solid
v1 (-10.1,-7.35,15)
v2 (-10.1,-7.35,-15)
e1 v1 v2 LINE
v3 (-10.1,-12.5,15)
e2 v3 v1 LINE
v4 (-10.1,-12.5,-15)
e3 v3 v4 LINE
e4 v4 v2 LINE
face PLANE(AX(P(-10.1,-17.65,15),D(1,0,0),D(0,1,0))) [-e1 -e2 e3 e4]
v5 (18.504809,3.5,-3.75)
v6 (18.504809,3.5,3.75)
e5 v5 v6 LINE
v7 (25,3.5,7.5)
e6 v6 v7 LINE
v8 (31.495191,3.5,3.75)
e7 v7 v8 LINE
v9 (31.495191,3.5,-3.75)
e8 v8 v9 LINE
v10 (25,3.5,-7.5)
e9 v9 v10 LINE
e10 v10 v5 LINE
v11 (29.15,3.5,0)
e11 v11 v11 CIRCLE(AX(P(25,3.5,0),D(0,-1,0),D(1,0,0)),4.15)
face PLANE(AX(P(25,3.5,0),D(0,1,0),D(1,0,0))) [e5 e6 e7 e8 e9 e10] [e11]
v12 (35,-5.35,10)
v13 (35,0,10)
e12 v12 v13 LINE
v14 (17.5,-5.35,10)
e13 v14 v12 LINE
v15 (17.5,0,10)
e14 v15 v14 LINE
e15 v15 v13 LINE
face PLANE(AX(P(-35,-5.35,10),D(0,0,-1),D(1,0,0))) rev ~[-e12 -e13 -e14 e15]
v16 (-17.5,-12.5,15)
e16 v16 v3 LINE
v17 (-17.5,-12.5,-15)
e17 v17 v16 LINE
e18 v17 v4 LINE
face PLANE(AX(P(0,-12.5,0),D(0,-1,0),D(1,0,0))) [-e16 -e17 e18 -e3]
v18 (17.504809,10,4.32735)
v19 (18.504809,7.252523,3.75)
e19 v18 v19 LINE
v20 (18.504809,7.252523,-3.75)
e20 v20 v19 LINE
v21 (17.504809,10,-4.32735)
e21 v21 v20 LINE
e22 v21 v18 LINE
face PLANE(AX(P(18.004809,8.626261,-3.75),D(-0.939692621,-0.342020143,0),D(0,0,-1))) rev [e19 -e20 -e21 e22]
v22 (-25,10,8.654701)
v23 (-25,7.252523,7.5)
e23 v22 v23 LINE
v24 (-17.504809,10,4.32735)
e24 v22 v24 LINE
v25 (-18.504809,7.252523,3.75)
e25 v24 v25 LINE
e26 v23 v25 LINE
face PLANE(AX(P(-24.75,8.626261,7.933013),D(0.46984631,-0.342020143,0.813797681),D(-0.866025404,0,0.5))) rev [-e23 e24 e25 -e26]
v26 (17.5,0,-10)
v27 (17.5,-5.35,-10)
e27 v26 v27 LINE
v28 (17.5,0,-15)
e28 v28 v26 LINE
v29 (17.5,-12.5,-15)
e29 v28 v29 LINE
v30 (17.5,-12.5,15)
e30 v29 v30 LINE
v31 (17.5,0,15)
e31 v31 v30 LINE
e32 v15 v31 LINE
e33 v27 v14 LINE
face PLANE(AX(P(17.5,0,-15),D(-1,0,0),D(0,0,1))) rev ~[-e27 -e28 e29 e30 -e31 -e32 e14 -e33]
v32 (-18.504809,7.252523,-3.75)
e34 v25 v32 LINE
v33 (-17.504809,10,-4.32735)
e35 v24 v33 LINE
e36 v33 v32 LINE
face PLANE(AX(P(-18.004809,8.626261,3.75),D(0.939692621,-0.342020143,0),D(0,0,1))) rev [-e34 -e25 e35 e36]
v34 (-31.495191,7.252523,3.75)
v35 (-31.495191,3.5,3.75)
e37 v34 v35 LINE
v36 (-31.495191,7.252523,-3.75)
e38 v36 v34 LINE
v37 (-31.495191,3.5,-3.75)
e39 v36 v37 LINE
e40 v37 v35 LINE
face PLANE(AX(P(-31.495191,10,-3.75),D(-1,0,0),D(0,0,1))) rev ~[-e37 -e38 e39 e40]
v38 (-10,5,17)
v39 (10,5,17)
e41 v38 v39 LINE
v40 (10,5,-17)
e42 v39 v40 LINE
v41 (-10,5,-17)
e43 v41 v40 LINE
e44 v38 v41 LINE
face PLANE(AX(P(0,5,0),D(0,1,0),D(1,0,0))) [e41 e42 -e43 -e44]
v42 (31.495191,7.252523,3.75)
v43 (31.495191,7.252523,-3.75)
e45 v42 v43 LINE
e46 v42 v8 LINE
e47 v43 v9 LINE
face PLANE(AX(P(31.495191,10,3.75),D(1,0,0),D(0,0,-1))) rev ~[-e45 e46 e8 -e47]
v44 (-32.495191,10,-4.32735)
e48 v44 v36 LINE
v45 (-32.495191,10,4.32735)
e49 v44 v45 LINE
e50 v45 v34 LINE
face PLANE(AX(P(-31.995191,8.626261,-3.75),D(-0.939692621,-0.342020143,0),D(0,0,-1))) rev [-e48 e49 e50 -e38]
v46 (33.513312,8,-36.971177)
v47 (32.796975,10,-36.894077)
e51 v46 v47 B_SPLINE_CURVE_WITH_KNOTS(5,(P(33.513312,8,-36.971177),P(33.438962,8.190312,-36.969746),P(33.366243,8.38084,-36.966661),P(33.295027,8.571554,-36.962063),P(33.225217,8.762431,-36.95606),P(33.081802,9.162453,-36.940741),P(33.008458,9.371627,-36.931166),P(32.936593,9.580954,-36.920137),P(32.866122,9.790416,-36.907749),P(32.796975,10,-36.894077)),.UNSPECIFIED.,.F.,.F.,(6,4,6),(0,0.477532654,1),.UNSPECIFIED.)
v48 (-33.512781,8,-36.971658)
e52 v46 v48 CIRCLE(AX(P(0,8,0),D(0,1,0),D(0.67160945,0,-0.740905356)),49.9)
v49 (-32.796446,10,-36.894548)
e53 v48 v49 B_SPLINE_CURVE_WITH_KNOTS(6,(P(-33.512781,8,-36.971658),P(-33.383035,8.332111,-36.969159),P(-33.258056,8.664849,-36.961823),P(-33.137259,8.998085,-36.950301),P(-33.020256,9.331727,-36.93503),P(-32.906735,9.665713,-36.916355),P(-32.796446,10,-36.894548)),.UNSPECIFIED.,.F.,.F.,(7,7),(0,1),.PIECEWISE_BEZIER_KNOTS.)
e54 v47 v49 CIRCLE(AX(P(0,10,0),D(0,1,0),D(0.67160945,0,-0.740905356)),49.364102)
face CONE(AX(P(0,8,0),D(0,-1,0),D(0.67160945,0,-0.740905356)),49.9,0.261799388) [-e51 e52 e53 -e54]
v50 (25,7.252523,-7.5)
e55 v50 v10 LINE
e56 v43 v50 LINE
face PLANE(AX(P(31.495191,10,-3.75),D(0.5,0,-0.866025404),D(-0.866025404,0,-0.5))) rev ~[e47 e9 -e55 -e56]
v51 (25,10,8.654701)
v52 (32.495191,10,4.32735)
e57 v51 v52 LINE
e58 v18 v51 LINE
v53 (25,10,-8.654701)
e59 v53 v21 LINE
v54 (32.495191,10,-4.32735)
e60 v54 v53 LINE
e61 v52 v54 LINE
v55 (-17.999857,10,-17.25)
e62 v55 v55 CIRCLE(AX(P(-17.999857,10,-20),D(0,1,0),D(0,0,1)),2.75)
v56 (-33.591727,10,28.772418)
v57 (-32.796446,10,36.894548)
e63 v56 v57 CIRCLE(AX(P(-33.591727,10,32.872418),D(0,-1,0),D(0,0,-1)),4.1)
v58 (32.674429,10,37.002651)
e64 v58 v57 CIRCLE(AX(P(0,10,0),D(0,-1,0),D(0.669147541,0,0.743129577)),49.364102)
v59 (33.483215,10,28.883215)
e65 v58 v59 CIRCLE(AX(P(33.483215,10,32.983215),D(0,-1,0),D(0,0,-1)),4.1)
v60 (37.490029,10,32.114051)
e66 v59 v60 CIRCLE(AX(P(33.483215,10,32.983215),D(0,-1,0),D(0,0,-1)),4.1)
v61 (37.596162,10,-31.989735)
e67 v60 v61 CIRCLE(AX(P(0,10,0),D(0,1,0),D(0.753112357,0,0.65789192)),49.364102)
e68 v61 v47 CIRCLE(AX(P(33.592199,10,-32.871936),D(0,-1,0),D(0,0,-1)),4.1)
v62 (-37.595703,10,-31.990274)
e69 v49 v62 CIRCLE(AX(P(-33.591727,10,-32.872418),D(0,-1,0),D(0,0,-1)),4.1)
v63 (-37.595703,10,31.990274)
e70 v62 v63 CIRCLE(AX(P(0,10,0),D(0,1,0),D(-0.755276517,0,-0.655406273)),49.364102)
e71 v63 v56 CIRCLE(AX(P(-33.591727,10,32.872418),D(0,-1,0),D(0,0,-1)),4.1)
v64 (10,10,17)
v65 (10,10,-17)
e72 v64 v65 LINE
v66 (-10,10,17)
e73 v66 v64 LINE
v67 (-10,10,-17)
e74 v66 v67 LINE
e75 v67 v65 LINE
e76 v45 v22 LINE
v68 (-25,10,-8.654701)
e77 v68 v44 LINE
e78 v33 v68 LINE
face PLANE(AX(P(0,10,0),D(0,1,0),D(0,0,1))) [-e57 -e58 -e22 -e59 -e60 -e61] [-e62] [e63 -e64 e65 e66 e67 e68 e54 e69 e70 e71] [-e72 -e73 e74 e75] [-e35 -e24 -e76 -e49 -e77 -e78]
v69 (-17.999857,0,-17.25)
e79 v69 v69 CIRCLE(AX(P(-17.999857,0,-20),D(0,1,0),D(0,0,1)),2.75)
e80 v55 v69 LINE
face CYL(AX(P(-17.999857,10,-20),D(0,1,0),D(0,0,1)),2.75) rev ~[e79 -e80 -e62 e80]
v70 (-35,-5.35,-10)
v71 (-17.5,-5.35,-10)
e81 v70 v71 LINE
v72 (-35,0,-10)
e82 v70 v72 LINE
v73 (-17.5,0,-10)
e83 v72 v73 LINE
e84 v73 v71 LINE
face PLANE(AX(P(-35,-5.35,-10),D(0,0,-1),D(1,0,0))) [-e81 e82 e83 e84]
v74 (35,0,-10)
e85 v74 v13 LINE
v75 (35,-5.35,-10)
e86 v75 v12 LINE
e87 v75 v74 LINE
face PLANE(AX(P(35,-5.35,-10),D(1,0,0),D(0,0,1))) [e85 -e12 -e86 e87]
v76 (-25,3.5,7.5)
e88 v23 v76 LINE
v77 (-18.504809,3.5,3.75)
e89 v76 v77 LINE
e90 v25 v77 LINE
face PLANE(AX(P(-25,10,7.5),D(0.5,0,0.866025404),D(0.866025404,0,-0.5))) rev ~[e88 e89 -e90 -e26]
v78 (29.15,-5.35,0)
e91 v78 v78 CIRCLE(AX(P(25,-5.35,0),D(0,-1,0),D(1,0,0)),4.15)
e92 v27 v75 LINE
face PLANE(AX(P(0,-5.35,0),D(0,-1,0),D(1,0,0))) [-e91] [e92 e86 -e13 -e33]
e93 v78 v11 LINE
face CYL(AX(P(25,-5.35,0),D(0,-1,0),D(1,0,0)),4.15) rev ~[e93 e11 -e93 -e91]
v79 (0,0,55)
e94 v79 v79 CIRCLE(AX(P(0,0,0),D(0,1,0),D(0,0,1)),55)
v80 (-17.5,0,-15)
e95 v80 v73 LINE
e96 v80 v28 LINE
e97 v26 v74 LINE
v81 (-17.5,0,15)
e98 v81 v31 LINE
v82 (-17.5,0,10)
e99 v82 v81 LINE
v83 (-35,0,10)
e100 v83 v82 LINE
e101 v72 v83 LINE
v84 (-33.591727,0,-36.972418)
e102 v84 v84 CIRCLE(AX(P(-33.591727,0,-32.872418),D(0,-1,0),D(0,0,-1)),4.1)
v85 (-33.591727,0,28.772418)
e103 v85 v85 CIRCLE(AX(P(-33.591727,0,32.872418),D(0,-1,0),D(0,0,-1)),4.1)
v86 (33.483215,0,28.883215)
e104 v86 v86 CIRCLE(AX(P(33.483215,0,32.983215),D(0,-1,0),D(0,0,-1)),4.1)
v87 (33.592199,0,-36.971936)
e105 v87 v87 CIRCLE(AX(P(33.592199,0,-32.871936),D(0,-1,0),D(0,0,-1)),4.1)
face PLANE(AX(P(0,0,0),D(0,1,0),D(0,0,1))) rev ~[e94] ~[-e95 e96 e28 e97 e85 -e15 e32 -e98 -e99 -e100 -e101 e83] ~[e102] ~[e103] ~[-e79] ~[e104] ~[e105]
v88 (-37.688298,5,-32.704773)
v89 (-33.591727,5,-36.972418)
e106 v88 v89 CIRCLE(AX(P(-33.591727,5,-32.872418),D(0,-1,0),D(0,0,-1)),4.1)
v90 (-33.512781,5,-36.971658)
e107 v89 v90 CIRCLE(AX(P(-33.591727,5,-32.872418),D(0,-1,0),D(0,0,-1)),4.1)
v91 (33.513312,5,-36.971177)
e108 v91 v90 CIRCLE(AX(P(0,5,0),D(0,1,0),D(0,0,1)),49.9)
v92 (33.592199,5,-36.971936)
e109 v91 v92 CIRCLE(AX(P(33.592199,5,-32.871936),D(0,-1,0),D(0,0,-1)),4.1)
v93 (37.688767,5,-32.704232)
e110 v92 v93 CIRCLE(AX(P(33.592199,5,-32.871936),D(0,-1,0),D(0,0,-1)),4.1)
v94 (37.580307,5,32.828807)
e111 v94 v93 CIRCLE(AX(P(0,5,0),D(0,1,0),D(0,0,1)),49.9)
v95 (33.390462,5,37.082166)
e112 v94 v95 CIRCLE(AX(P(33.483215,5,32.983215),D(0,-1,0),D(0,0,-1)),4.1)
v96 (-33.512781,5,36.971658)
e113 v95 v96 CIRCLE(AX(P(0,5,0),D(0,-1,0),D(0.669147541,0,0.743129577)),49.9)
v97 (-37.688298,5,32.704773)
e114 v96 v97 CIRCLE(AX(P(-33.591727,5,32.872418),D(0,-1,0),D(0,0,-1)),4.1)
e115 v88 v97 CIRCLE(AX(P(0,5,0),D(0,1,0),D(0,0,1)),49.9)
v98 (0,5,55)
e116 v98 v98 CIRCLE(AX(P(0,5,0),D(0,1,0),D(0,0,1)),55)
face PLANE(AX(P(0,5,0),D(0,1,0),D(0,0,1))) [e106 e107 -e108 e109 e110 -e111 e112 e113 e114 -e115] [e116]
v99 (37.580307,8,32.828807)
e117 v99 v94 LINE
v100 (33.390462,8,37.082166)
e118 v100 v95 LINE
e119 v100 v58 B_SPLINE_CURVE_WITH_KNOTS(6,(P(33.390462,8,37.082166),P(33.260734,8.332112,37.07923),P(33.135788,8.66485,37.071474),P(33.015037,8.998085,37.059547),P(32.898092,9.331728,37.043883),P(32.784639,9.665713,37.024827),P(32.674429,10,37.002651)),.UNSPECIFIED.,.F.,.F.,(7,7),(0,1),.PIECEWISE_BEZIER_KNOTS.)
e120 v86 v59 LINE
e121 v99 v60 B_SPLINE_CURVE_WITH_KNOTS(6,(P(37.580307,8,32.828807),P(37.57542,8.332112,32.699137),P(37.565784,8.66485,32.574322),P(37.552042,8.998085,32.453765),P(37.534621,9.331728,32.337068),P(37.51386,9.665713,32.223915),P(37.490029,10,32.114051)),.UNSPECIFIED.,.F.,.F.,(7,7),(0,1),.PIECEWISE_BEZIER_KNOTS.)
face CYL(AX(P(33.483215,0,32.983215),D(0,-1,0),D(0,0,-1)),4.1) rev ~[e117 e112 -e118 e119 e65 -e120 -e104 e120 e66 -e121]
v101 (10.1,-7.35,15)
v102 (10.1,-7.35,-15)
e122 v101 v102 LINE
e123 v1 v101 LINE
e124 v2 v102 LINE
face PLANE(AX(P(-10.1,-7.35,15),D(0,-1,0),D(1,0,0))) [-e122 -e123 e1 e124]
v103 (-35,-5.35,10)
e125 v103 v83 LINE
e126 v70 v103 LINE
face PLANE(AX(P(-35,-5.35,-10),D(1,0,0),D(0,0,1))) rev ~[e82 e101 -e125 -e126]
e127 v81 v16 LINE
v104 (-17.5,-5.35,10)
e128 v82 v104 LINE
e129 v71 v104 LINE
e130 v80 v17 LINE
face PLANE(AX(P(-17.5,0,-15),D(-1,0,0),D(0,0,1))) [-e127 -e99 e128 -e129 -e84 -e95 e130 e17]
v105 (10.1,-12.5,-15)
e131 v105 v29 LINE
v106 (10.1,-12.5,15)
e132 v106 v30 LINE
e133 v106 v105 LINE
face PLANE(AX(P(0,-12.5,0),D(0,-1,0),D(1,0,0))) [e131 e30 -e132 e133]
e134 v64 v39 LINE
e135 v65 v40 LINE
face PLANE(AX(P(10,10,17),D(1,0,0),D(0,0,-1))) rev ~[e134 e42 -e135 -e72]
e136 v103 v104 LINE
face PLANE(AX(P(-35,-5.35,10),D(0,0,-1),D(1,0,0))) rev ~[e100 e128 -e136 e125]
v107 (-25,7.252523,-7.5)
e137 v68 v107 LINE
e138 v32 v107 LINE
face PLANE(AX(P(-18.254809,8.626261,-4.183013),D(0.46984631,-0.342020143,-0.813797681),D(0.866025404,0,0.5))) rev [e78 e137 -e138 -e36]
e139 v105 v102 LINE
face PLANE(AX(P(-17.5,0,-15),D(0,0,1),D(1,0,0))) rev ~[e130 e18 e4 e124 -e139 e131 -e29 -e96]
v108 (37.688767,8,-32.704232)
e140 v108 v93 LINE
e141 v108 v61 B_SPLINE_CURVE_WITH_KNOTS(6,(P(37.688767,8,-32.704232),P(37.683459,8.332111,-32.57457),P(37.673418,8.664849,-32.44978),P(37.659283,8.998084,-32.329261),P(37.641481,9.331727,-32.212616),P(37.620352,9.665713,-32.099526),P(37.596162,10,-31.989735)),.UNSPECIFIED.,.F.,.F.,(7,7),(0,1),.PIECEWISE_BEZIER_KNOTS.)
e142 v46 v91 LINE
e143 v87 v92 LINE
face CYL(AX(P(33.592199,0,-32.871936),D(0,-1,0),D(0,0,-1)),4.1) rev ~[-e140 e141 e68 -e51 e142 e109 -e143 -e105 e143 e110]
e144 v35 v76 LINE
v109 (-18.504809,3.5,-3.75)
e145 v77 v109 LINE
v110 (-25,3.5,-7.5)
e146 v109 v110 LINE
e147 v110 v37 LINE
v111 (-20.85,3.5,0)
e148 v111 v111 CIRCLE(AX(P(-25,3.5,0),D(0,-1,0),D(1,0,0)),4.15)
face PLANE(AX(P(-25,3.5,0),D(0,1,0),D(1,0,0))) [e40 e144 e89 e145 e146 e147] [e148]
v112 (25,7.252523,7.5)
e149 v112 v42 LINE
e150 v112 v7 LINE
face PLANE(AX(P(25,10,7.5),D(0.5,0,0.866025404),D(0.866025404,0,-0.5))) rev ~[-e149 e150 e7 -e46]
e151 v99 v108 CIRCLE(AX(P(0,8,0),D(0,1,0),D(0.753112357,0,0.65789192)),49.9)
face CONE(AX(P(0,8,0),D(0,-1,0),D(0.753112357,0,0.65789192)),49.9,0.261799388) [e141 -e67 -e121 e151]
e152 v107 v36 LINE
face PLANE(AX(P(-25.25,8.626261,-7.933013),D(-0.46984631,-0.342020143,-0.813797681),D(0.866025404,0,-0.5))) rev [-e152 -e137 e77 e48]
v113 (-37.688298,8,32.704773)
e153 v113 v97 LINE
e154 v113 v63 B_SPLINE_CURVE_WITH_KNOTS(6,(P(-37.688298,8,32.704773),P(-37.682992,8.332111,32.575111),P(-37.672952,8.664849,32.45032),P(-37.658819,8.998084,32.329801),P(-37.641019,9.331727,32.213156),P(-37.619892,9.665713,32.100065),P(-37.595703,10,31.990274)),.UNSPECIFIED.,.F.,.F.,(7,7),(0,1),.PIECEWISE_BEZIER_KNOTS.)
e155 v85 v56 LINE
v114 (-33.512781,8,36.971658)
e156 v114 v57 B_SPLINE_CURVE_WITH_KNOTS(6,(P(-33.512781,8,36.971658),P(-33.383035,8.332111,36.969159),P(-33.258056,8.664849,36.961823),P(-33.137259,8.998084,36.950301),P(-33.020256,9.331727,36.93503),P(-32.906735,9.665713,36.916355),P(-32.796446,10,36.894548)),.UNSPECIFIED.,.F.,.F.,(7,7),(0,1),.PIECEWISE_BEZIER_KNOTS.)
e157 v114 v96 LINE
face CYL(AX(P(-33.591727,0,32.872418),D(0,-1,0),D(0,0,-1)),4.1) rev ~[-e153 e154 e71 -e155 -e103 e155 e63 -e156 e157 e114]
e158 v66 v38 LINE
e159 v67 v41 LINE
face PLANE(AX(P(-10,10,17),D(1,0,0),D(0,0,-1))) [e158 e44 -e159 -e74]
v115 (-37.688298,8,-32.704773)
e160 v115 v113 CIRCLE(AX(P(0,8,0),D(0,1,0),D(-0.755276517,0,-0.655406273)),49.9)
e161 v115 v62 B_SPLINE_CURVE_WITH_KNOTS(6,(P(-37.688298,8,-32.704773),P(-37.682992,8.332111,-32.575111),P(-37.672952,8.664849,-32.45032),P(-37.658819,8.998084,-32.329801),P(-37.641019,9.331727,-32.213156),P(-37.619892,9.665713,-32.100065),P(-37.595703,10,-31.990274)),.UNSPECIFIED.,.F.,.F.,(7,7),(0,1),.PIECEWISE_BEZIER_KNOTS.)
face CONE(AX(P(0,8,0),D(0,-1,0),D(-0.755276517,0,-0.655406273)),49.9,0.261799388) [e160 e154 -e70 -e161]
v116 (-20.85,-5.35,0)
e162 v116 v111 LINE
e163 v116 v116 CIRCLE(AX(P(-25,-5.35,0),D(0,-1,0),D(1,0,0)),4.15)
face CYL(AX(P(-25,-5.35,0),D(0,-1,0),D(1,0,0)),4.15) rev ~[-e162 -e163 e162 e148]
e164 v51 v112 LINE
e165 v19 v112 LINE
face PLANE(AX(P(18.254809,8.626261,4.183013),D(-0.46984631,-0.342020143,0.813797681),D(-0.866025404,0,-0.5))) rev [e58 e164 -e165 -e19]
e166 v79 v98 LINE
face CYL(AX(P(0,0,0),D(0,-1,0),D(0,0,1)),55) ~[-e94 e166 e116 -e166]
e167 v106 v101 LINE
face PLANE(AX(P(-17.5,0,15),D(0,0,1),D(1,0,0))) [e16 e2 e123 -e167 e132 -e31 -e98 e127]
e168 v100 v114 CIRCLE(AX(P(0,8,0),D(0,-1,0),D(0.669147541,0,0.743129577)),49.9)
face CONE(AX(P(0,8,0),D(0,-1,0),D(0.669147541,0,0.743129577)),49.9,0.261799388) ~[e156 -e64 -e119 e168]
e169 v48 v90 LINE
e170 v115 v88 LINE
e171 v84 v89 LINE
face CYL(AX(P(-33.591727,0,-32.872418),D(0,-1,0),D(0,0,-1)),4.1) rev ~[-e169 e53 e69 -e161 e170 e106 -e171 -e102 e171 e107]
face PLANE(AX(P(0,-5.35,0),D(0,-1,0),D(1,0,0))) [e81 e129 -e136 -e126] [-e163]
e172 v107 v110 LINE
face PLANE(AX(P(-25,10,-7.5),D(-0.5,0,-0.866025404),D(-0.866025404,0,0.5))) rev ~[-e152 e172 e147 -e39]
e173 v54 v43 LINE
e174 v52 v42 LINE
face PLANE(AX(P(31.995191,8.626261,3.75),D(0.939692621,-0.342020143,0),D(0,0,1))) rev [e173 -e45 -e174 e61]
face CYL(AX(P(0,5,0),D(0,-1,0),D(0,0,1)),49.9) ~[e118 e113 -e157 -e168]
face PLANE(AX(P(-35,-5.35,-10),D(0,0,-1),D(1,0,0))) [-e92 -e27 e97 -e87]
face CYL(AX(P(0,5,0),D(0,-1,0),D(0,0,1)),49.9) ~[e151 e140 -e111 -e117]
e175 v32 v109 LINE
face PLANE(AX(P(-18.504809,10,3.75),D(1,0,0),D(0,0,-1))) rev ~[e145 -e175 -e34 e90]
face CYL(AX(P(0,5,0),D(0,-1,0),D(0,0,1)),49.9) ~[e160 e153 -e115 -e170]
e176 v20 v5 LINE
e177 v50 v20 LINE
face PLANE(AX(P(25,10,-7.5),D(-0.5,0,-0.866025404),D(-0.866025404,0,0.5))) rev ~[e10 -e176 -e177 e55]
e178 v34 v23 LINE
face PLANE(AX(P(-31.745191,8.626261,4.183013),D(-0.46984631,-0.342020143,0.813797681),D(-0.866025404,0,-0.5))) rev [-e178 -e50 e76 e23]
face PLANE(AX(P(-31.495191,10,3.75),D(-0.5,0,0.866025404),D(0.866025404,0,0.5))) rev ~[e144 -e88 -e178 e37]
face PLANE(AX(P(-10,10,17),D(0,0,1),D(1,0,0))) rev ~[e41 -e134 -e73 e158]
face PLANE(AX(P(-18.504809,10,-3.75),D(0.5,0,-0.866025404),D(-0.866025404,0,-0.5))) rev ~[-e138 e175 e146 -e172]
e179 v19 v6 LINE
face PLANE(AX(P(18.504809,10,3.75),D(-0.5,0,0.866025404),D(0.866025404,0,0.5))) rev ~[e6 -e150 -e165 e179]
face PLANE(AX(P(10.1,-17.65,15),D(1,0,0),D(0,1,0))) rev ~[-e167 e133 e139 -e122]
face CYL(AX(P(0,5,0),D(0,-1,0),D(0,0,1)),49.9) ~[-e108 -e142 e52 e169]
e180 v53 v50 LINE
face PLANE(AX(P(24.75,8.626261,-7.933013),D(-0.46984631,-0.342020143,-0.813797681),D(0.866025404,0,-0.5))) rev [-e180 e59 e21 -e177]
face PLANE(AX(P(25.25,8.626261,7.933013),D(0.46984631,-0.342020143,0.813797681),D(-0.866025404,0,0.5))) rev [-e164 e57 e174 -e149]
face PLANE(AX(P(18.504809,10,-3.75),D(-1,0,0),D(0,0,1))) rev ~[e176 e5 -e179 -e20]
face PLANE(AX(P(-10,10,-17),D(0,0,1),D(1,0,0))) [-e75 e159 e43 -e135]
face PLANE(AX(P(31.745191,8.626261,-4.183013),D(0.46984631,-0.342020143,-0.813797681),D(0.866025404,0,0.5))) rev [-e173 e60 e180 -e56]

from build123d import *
from OCP.BRepFilletAPI import BRepFilletAPI_MakeChamfer

# Parameters (mm, degrees)
SKETCH_1_R          = 55
EXTRUDE_1_DEPTH     = 5
SKETCH_2_R          = 49.9
EXTRUDE_2_DEPTH     = 5
SKETCH_3_W          = 35
SKETCH_3_H          = 30
EXTRUDE_3_DEPTH     = 25
SKETCH_4_W          = 20.2
SKETCH_4_H          = 10.3
CUT_EXTRUDE_1_DEPTH = 93.466210045
SKETCH_5_R          = 4.1
CUT_EXTRUDE_2_DEPTH = 82.700673192
SKETCH_6_R          = 2.75
CUT_EXTRUDE_3_DEPTH = 86.293610546
CHAMFER1_SIZE       = 2
CHAMFER1_SIZE2      = 0.535898385
SKETCH2_W           = 35
SKETCH2_H           = 30
CUT_EXTRUDE1_DEPTH  = 12.5
BOSS_EXTRUDE1_START = -2
SKETCH4_W           = 70
SKETCH4_H           = 20
BOSS_EXTRUDE1_DEPTH = 5.35
SKETCH5_R           = 4.15
CUT_EXTRUDE2_DEPTH  = 80.281917882
CUT_EXTRUDE3_DEPTH  = 6.5
SKETCH7_W           = 20
SKETCH7_H           = 34
CUT_EXTRUDE4_DEPTH  = 5
CHAMFER2_SIZE       = 1
CHAMFER2_SIZE2      = 2.747477419


with BuildPart() as part:
    # Эскиз1 → Бобышка-Вытянуть1 (new body)
    with BuildSketch(Plane(origin=(0, 0, 0), x_dir=(1, 0, 0), z_dir=(0, 1, 0))):
        with Locations(Location((0, 0, 0), (0, 0, 270))):
            Circle(SKETCH_1_R)
    extrude(amount=EXTRUDE_1_DEPTH)

    # Эскиз2 → Бобышка-Вытянуть2 (add)
    with BuildSketch(Plane(origin=(0, 5, 0), x_dir=(1, 0, 0), z_dir=(0, 1, 0))):
        with Locations(Location((0, 0, 0), (0, 0, 270))):
            Circle(SKETCH_2_R)
    extrude(amount=EXTRUDE_2_DEPTH)

    # Эскиз3 → Бобышка-Вытянуть3 (add)
    with BuildSketch(Plane.XZ):
        Rectangle(SKETCH_3_W, SKETCH_3_H)
    extrude(amount=EXTRUDE_3_DEPTH)

    # Эскиз4 → Вырез-Вытянуть1 (cut, through all)
    with BuildSketch(Plane.XY.offset(15)):
        with Locations((0, -12.5)):
            Rectangle(SKETCH_4_W, SKETCH_4_H)
    extrude(amount=-CUT_EXTRUDE_1_DEPTH, mode=Mode.SUBTRACT)

    # Эскиз5 → Вырез-Вытянуть2 (cut, through all)
    with BuildSketch(Plane.XZ):
        with Locations(Location((33.592198598, -32.871936263, 0), (0, 0, 270))):
            Circle(SKETCH_5_R)
        with Locations(Location((-33.591727056, -32.872418125, 0), (0, 0, 270))):
            Circle(SKETCH_5_R)
        with Locations(Location((-33.591727056, 32.872418125, 0), (0, 0, 270))):
            Circle(SKETCH_5_R)
        with Locations(Location((33.483215177, 32.983215177, 0), (0, 0, 270))):
            Circle(SKETCH_5_R)
    extrude(amount=-CUT_EXTRUDE_2_DEPTH, mode=Mode.SUBTRACT)

    # Эскиз6 → Вырез-Вытянуть3 (cut, through all)
    with BuildSketch(Plane(origin=(0, 10, 0), x_dir=(1, 0, 0), z_dir=(0, 1, 0))):
        with Locations(Location((-17.999856554, 19.999999999, 0), (0, 0, 270))):
            Circle(SKETCH_6_R)
    extrude(amount=-CUT_EXTRUDE_3_DEPTH, mode=Mode.SUBTRACT)

    # Chamfer1: one chamfer whose edges measure the first distance from different faces: ONE call of the kernel's chamfer builder (chamfer() names one face for all edges)
    chamfer1_edges_1 = [part.edges().sort_by_distance(p)[0] for p in [
        (0.000357897, 10, -49.899999999),
    ]]
    chamfer1_side_1 = [part.faces().sort_by_distance(p)[0] for p in [
        (0.000357897, 7.5, -49.899999999),
    ]]
    chamfer1_edges_2 = [part.edges().sort_by_distance(p)[0] for p in [
        (-49.9, 10, 0),
    ]]
    chamfer1_side_2 = [part.faces().sort_by_distance(p)[0] for p in [
        (-49.9, 7.5, 0),
    ]]
    chamfer1_edges_3 = [part.edges().sort_by_distance(p)[0] for p in [
        (-0.08242255, 10, 49.899931929),
    ]]
    chamfer1_side_3 = [part.faces().sort_by_distance(p)[0] for p in [
        (-0.08242255, 7.5, 49.899931929),
    ]]
    chamfer1_edges_4 = [part.edges().sort_by_distance(p)[0] for p in [
        (49.899931657, 10, 0.082587101),
    ]]
    chamfer1_side_4 = [part.faces().sort_by_distance(p)[0] for p in [
        (49.899931657, 7.5, 0.082587101),
    ]]
    chamfer1 = BRepFilletAPI_MakeChamfer(part.part.solid().wrapped)
    for e in chamfer1_edges_1:
        chamfer1.Add(CHAMFER1_SIZE, CHAMFER1_SIZE2, e.wrapped, chamfer1_side_1[0].wrapped)  # the first distance lies on this face
    for e in chamfer1_edges_2:
        chamfer1.Add(CHAMFER1_SIZE, CHAMFER1_SIZE2, e.wrapped, chamfer1_side_2[0].wrapped)  # the first distance lies on this face
    for e in chamfer1_edges_3:
        chamfer1.Add(CHAMFER1_SIZE, CHAMFER1_SIZE2, e.wrapped, chamfer1_side_3[0].wrapped)  # the first distance lies on this face
    for e in chamfer1_edges_4:
        chamfer1.Add(CHAMFER1_SIZE, CHAMFER1_SIZE2, e.wrapped, chamfer1_side_4[0].wrapped)  # the first distance lies on this face
    add(Compound.cast(chamfer1.Shape()), mode=Mode.REPLACE)

    # Sketch2 → Cut-Extrude1 (cut)
    with BuildSketch(Plane.XZ.offset(25)):
        Rectangle(SKETCH2_W, SKETCH2_H)
    extrude(amount=-CUT_EXTRUDE1_DEPTH, mode=Mode.SUBTRACT)

    # Sketch4 → Boss-Extrude1 (add)
    with BuildSketch(Plane.XZ.offset(7.35).offset(BOSS_EXTRUDE1_START)):
        Rectangle(SKETCH4_W, SKETCH4_H)
    extrude(amount=-BOSS_EXTRUDE1_DEPTH)

    # Sketch5 → Cut-Extrude2 (cut, through all)
    with BuildSketch(Plane.XZ.offset(5.35)):
        with Locations((25, 0)):
            Circle(SKETCH5_R)
        with Locations((-25, 0)):
            Circle(SKETCH5_R)
    extrude(amount=-CUT_EXTRUDE2_DEPTH, mode=Mode.SUBTRACT)

    # Sketch6 → Cut-Extrude3 (cut)
    with BuildSketch(Plane(origin=(0, 10, 0), x_dir=(1, 0, 0), z_dir=(0, 1, 0))):
        Polygon((-18.504809472, 3.75), (-25, 7.5), (-31.495190528, 3.75), (-31.495190528, -3.75), (-25, -7.5), (-18.504809472, -3.75), align=None)
        Polygon((31.495190528, 3.75), (25, 7.5), (18.504809472, 3.75), (18.504809472, -3.75), (25, -7.5), (31.495190528, -3.75), align=None)
    extrude(amount=-CUT_EXTRUDE3_DEPTH, mode=Mode.SUBTRACT)

    # Sketch7 → Cut-Extrude4 (cut)
    with BuildSketch(Plane(origin=(0, 10, 0), x_dir=(1, 0, 0), z_dir=(0, 1, 0))):
        Rectangle(SKETCH7_W, SKETCH7_H)
    extrude(amount=-CUT_EXTRUDE4_DEPTH, mode=Mode.SUBTRACT)

    # Chamfer2
    chamfer2_edges = [part.edges().sort_by_distance(p)[0] for p in [
        (-18.504809472, 10, 0),
        (-21.752404736, 10, -5.625),
        (-28.247595264, 10, -5.625),
        (-31.495190528, 10, 0),
        (-28.247595264, 10, 5.625),
        (-21.752404736, 10, 5.625),
        (31.495190528, 10, 0),
        (28.247595264, 10, -5.625),
        (21.752404736, 10, -5.625),
        (18.504809472, 10, 0),
        (21.752404736, 10, 5.625),
        (28.247595264, 10, 5.625),
    ]]
    chamfer2_side = [part.faces().sort_by_distance(p)[0] for p in [
        (-28.121658773, 10, 32.336814493),
    ]]
    chamfer(chamfer2_edges, length=CHAMFER2_SIZE, length2=CHAMFER2_SIZE2, reference=chamfer2_side[0])


solid = part.part
